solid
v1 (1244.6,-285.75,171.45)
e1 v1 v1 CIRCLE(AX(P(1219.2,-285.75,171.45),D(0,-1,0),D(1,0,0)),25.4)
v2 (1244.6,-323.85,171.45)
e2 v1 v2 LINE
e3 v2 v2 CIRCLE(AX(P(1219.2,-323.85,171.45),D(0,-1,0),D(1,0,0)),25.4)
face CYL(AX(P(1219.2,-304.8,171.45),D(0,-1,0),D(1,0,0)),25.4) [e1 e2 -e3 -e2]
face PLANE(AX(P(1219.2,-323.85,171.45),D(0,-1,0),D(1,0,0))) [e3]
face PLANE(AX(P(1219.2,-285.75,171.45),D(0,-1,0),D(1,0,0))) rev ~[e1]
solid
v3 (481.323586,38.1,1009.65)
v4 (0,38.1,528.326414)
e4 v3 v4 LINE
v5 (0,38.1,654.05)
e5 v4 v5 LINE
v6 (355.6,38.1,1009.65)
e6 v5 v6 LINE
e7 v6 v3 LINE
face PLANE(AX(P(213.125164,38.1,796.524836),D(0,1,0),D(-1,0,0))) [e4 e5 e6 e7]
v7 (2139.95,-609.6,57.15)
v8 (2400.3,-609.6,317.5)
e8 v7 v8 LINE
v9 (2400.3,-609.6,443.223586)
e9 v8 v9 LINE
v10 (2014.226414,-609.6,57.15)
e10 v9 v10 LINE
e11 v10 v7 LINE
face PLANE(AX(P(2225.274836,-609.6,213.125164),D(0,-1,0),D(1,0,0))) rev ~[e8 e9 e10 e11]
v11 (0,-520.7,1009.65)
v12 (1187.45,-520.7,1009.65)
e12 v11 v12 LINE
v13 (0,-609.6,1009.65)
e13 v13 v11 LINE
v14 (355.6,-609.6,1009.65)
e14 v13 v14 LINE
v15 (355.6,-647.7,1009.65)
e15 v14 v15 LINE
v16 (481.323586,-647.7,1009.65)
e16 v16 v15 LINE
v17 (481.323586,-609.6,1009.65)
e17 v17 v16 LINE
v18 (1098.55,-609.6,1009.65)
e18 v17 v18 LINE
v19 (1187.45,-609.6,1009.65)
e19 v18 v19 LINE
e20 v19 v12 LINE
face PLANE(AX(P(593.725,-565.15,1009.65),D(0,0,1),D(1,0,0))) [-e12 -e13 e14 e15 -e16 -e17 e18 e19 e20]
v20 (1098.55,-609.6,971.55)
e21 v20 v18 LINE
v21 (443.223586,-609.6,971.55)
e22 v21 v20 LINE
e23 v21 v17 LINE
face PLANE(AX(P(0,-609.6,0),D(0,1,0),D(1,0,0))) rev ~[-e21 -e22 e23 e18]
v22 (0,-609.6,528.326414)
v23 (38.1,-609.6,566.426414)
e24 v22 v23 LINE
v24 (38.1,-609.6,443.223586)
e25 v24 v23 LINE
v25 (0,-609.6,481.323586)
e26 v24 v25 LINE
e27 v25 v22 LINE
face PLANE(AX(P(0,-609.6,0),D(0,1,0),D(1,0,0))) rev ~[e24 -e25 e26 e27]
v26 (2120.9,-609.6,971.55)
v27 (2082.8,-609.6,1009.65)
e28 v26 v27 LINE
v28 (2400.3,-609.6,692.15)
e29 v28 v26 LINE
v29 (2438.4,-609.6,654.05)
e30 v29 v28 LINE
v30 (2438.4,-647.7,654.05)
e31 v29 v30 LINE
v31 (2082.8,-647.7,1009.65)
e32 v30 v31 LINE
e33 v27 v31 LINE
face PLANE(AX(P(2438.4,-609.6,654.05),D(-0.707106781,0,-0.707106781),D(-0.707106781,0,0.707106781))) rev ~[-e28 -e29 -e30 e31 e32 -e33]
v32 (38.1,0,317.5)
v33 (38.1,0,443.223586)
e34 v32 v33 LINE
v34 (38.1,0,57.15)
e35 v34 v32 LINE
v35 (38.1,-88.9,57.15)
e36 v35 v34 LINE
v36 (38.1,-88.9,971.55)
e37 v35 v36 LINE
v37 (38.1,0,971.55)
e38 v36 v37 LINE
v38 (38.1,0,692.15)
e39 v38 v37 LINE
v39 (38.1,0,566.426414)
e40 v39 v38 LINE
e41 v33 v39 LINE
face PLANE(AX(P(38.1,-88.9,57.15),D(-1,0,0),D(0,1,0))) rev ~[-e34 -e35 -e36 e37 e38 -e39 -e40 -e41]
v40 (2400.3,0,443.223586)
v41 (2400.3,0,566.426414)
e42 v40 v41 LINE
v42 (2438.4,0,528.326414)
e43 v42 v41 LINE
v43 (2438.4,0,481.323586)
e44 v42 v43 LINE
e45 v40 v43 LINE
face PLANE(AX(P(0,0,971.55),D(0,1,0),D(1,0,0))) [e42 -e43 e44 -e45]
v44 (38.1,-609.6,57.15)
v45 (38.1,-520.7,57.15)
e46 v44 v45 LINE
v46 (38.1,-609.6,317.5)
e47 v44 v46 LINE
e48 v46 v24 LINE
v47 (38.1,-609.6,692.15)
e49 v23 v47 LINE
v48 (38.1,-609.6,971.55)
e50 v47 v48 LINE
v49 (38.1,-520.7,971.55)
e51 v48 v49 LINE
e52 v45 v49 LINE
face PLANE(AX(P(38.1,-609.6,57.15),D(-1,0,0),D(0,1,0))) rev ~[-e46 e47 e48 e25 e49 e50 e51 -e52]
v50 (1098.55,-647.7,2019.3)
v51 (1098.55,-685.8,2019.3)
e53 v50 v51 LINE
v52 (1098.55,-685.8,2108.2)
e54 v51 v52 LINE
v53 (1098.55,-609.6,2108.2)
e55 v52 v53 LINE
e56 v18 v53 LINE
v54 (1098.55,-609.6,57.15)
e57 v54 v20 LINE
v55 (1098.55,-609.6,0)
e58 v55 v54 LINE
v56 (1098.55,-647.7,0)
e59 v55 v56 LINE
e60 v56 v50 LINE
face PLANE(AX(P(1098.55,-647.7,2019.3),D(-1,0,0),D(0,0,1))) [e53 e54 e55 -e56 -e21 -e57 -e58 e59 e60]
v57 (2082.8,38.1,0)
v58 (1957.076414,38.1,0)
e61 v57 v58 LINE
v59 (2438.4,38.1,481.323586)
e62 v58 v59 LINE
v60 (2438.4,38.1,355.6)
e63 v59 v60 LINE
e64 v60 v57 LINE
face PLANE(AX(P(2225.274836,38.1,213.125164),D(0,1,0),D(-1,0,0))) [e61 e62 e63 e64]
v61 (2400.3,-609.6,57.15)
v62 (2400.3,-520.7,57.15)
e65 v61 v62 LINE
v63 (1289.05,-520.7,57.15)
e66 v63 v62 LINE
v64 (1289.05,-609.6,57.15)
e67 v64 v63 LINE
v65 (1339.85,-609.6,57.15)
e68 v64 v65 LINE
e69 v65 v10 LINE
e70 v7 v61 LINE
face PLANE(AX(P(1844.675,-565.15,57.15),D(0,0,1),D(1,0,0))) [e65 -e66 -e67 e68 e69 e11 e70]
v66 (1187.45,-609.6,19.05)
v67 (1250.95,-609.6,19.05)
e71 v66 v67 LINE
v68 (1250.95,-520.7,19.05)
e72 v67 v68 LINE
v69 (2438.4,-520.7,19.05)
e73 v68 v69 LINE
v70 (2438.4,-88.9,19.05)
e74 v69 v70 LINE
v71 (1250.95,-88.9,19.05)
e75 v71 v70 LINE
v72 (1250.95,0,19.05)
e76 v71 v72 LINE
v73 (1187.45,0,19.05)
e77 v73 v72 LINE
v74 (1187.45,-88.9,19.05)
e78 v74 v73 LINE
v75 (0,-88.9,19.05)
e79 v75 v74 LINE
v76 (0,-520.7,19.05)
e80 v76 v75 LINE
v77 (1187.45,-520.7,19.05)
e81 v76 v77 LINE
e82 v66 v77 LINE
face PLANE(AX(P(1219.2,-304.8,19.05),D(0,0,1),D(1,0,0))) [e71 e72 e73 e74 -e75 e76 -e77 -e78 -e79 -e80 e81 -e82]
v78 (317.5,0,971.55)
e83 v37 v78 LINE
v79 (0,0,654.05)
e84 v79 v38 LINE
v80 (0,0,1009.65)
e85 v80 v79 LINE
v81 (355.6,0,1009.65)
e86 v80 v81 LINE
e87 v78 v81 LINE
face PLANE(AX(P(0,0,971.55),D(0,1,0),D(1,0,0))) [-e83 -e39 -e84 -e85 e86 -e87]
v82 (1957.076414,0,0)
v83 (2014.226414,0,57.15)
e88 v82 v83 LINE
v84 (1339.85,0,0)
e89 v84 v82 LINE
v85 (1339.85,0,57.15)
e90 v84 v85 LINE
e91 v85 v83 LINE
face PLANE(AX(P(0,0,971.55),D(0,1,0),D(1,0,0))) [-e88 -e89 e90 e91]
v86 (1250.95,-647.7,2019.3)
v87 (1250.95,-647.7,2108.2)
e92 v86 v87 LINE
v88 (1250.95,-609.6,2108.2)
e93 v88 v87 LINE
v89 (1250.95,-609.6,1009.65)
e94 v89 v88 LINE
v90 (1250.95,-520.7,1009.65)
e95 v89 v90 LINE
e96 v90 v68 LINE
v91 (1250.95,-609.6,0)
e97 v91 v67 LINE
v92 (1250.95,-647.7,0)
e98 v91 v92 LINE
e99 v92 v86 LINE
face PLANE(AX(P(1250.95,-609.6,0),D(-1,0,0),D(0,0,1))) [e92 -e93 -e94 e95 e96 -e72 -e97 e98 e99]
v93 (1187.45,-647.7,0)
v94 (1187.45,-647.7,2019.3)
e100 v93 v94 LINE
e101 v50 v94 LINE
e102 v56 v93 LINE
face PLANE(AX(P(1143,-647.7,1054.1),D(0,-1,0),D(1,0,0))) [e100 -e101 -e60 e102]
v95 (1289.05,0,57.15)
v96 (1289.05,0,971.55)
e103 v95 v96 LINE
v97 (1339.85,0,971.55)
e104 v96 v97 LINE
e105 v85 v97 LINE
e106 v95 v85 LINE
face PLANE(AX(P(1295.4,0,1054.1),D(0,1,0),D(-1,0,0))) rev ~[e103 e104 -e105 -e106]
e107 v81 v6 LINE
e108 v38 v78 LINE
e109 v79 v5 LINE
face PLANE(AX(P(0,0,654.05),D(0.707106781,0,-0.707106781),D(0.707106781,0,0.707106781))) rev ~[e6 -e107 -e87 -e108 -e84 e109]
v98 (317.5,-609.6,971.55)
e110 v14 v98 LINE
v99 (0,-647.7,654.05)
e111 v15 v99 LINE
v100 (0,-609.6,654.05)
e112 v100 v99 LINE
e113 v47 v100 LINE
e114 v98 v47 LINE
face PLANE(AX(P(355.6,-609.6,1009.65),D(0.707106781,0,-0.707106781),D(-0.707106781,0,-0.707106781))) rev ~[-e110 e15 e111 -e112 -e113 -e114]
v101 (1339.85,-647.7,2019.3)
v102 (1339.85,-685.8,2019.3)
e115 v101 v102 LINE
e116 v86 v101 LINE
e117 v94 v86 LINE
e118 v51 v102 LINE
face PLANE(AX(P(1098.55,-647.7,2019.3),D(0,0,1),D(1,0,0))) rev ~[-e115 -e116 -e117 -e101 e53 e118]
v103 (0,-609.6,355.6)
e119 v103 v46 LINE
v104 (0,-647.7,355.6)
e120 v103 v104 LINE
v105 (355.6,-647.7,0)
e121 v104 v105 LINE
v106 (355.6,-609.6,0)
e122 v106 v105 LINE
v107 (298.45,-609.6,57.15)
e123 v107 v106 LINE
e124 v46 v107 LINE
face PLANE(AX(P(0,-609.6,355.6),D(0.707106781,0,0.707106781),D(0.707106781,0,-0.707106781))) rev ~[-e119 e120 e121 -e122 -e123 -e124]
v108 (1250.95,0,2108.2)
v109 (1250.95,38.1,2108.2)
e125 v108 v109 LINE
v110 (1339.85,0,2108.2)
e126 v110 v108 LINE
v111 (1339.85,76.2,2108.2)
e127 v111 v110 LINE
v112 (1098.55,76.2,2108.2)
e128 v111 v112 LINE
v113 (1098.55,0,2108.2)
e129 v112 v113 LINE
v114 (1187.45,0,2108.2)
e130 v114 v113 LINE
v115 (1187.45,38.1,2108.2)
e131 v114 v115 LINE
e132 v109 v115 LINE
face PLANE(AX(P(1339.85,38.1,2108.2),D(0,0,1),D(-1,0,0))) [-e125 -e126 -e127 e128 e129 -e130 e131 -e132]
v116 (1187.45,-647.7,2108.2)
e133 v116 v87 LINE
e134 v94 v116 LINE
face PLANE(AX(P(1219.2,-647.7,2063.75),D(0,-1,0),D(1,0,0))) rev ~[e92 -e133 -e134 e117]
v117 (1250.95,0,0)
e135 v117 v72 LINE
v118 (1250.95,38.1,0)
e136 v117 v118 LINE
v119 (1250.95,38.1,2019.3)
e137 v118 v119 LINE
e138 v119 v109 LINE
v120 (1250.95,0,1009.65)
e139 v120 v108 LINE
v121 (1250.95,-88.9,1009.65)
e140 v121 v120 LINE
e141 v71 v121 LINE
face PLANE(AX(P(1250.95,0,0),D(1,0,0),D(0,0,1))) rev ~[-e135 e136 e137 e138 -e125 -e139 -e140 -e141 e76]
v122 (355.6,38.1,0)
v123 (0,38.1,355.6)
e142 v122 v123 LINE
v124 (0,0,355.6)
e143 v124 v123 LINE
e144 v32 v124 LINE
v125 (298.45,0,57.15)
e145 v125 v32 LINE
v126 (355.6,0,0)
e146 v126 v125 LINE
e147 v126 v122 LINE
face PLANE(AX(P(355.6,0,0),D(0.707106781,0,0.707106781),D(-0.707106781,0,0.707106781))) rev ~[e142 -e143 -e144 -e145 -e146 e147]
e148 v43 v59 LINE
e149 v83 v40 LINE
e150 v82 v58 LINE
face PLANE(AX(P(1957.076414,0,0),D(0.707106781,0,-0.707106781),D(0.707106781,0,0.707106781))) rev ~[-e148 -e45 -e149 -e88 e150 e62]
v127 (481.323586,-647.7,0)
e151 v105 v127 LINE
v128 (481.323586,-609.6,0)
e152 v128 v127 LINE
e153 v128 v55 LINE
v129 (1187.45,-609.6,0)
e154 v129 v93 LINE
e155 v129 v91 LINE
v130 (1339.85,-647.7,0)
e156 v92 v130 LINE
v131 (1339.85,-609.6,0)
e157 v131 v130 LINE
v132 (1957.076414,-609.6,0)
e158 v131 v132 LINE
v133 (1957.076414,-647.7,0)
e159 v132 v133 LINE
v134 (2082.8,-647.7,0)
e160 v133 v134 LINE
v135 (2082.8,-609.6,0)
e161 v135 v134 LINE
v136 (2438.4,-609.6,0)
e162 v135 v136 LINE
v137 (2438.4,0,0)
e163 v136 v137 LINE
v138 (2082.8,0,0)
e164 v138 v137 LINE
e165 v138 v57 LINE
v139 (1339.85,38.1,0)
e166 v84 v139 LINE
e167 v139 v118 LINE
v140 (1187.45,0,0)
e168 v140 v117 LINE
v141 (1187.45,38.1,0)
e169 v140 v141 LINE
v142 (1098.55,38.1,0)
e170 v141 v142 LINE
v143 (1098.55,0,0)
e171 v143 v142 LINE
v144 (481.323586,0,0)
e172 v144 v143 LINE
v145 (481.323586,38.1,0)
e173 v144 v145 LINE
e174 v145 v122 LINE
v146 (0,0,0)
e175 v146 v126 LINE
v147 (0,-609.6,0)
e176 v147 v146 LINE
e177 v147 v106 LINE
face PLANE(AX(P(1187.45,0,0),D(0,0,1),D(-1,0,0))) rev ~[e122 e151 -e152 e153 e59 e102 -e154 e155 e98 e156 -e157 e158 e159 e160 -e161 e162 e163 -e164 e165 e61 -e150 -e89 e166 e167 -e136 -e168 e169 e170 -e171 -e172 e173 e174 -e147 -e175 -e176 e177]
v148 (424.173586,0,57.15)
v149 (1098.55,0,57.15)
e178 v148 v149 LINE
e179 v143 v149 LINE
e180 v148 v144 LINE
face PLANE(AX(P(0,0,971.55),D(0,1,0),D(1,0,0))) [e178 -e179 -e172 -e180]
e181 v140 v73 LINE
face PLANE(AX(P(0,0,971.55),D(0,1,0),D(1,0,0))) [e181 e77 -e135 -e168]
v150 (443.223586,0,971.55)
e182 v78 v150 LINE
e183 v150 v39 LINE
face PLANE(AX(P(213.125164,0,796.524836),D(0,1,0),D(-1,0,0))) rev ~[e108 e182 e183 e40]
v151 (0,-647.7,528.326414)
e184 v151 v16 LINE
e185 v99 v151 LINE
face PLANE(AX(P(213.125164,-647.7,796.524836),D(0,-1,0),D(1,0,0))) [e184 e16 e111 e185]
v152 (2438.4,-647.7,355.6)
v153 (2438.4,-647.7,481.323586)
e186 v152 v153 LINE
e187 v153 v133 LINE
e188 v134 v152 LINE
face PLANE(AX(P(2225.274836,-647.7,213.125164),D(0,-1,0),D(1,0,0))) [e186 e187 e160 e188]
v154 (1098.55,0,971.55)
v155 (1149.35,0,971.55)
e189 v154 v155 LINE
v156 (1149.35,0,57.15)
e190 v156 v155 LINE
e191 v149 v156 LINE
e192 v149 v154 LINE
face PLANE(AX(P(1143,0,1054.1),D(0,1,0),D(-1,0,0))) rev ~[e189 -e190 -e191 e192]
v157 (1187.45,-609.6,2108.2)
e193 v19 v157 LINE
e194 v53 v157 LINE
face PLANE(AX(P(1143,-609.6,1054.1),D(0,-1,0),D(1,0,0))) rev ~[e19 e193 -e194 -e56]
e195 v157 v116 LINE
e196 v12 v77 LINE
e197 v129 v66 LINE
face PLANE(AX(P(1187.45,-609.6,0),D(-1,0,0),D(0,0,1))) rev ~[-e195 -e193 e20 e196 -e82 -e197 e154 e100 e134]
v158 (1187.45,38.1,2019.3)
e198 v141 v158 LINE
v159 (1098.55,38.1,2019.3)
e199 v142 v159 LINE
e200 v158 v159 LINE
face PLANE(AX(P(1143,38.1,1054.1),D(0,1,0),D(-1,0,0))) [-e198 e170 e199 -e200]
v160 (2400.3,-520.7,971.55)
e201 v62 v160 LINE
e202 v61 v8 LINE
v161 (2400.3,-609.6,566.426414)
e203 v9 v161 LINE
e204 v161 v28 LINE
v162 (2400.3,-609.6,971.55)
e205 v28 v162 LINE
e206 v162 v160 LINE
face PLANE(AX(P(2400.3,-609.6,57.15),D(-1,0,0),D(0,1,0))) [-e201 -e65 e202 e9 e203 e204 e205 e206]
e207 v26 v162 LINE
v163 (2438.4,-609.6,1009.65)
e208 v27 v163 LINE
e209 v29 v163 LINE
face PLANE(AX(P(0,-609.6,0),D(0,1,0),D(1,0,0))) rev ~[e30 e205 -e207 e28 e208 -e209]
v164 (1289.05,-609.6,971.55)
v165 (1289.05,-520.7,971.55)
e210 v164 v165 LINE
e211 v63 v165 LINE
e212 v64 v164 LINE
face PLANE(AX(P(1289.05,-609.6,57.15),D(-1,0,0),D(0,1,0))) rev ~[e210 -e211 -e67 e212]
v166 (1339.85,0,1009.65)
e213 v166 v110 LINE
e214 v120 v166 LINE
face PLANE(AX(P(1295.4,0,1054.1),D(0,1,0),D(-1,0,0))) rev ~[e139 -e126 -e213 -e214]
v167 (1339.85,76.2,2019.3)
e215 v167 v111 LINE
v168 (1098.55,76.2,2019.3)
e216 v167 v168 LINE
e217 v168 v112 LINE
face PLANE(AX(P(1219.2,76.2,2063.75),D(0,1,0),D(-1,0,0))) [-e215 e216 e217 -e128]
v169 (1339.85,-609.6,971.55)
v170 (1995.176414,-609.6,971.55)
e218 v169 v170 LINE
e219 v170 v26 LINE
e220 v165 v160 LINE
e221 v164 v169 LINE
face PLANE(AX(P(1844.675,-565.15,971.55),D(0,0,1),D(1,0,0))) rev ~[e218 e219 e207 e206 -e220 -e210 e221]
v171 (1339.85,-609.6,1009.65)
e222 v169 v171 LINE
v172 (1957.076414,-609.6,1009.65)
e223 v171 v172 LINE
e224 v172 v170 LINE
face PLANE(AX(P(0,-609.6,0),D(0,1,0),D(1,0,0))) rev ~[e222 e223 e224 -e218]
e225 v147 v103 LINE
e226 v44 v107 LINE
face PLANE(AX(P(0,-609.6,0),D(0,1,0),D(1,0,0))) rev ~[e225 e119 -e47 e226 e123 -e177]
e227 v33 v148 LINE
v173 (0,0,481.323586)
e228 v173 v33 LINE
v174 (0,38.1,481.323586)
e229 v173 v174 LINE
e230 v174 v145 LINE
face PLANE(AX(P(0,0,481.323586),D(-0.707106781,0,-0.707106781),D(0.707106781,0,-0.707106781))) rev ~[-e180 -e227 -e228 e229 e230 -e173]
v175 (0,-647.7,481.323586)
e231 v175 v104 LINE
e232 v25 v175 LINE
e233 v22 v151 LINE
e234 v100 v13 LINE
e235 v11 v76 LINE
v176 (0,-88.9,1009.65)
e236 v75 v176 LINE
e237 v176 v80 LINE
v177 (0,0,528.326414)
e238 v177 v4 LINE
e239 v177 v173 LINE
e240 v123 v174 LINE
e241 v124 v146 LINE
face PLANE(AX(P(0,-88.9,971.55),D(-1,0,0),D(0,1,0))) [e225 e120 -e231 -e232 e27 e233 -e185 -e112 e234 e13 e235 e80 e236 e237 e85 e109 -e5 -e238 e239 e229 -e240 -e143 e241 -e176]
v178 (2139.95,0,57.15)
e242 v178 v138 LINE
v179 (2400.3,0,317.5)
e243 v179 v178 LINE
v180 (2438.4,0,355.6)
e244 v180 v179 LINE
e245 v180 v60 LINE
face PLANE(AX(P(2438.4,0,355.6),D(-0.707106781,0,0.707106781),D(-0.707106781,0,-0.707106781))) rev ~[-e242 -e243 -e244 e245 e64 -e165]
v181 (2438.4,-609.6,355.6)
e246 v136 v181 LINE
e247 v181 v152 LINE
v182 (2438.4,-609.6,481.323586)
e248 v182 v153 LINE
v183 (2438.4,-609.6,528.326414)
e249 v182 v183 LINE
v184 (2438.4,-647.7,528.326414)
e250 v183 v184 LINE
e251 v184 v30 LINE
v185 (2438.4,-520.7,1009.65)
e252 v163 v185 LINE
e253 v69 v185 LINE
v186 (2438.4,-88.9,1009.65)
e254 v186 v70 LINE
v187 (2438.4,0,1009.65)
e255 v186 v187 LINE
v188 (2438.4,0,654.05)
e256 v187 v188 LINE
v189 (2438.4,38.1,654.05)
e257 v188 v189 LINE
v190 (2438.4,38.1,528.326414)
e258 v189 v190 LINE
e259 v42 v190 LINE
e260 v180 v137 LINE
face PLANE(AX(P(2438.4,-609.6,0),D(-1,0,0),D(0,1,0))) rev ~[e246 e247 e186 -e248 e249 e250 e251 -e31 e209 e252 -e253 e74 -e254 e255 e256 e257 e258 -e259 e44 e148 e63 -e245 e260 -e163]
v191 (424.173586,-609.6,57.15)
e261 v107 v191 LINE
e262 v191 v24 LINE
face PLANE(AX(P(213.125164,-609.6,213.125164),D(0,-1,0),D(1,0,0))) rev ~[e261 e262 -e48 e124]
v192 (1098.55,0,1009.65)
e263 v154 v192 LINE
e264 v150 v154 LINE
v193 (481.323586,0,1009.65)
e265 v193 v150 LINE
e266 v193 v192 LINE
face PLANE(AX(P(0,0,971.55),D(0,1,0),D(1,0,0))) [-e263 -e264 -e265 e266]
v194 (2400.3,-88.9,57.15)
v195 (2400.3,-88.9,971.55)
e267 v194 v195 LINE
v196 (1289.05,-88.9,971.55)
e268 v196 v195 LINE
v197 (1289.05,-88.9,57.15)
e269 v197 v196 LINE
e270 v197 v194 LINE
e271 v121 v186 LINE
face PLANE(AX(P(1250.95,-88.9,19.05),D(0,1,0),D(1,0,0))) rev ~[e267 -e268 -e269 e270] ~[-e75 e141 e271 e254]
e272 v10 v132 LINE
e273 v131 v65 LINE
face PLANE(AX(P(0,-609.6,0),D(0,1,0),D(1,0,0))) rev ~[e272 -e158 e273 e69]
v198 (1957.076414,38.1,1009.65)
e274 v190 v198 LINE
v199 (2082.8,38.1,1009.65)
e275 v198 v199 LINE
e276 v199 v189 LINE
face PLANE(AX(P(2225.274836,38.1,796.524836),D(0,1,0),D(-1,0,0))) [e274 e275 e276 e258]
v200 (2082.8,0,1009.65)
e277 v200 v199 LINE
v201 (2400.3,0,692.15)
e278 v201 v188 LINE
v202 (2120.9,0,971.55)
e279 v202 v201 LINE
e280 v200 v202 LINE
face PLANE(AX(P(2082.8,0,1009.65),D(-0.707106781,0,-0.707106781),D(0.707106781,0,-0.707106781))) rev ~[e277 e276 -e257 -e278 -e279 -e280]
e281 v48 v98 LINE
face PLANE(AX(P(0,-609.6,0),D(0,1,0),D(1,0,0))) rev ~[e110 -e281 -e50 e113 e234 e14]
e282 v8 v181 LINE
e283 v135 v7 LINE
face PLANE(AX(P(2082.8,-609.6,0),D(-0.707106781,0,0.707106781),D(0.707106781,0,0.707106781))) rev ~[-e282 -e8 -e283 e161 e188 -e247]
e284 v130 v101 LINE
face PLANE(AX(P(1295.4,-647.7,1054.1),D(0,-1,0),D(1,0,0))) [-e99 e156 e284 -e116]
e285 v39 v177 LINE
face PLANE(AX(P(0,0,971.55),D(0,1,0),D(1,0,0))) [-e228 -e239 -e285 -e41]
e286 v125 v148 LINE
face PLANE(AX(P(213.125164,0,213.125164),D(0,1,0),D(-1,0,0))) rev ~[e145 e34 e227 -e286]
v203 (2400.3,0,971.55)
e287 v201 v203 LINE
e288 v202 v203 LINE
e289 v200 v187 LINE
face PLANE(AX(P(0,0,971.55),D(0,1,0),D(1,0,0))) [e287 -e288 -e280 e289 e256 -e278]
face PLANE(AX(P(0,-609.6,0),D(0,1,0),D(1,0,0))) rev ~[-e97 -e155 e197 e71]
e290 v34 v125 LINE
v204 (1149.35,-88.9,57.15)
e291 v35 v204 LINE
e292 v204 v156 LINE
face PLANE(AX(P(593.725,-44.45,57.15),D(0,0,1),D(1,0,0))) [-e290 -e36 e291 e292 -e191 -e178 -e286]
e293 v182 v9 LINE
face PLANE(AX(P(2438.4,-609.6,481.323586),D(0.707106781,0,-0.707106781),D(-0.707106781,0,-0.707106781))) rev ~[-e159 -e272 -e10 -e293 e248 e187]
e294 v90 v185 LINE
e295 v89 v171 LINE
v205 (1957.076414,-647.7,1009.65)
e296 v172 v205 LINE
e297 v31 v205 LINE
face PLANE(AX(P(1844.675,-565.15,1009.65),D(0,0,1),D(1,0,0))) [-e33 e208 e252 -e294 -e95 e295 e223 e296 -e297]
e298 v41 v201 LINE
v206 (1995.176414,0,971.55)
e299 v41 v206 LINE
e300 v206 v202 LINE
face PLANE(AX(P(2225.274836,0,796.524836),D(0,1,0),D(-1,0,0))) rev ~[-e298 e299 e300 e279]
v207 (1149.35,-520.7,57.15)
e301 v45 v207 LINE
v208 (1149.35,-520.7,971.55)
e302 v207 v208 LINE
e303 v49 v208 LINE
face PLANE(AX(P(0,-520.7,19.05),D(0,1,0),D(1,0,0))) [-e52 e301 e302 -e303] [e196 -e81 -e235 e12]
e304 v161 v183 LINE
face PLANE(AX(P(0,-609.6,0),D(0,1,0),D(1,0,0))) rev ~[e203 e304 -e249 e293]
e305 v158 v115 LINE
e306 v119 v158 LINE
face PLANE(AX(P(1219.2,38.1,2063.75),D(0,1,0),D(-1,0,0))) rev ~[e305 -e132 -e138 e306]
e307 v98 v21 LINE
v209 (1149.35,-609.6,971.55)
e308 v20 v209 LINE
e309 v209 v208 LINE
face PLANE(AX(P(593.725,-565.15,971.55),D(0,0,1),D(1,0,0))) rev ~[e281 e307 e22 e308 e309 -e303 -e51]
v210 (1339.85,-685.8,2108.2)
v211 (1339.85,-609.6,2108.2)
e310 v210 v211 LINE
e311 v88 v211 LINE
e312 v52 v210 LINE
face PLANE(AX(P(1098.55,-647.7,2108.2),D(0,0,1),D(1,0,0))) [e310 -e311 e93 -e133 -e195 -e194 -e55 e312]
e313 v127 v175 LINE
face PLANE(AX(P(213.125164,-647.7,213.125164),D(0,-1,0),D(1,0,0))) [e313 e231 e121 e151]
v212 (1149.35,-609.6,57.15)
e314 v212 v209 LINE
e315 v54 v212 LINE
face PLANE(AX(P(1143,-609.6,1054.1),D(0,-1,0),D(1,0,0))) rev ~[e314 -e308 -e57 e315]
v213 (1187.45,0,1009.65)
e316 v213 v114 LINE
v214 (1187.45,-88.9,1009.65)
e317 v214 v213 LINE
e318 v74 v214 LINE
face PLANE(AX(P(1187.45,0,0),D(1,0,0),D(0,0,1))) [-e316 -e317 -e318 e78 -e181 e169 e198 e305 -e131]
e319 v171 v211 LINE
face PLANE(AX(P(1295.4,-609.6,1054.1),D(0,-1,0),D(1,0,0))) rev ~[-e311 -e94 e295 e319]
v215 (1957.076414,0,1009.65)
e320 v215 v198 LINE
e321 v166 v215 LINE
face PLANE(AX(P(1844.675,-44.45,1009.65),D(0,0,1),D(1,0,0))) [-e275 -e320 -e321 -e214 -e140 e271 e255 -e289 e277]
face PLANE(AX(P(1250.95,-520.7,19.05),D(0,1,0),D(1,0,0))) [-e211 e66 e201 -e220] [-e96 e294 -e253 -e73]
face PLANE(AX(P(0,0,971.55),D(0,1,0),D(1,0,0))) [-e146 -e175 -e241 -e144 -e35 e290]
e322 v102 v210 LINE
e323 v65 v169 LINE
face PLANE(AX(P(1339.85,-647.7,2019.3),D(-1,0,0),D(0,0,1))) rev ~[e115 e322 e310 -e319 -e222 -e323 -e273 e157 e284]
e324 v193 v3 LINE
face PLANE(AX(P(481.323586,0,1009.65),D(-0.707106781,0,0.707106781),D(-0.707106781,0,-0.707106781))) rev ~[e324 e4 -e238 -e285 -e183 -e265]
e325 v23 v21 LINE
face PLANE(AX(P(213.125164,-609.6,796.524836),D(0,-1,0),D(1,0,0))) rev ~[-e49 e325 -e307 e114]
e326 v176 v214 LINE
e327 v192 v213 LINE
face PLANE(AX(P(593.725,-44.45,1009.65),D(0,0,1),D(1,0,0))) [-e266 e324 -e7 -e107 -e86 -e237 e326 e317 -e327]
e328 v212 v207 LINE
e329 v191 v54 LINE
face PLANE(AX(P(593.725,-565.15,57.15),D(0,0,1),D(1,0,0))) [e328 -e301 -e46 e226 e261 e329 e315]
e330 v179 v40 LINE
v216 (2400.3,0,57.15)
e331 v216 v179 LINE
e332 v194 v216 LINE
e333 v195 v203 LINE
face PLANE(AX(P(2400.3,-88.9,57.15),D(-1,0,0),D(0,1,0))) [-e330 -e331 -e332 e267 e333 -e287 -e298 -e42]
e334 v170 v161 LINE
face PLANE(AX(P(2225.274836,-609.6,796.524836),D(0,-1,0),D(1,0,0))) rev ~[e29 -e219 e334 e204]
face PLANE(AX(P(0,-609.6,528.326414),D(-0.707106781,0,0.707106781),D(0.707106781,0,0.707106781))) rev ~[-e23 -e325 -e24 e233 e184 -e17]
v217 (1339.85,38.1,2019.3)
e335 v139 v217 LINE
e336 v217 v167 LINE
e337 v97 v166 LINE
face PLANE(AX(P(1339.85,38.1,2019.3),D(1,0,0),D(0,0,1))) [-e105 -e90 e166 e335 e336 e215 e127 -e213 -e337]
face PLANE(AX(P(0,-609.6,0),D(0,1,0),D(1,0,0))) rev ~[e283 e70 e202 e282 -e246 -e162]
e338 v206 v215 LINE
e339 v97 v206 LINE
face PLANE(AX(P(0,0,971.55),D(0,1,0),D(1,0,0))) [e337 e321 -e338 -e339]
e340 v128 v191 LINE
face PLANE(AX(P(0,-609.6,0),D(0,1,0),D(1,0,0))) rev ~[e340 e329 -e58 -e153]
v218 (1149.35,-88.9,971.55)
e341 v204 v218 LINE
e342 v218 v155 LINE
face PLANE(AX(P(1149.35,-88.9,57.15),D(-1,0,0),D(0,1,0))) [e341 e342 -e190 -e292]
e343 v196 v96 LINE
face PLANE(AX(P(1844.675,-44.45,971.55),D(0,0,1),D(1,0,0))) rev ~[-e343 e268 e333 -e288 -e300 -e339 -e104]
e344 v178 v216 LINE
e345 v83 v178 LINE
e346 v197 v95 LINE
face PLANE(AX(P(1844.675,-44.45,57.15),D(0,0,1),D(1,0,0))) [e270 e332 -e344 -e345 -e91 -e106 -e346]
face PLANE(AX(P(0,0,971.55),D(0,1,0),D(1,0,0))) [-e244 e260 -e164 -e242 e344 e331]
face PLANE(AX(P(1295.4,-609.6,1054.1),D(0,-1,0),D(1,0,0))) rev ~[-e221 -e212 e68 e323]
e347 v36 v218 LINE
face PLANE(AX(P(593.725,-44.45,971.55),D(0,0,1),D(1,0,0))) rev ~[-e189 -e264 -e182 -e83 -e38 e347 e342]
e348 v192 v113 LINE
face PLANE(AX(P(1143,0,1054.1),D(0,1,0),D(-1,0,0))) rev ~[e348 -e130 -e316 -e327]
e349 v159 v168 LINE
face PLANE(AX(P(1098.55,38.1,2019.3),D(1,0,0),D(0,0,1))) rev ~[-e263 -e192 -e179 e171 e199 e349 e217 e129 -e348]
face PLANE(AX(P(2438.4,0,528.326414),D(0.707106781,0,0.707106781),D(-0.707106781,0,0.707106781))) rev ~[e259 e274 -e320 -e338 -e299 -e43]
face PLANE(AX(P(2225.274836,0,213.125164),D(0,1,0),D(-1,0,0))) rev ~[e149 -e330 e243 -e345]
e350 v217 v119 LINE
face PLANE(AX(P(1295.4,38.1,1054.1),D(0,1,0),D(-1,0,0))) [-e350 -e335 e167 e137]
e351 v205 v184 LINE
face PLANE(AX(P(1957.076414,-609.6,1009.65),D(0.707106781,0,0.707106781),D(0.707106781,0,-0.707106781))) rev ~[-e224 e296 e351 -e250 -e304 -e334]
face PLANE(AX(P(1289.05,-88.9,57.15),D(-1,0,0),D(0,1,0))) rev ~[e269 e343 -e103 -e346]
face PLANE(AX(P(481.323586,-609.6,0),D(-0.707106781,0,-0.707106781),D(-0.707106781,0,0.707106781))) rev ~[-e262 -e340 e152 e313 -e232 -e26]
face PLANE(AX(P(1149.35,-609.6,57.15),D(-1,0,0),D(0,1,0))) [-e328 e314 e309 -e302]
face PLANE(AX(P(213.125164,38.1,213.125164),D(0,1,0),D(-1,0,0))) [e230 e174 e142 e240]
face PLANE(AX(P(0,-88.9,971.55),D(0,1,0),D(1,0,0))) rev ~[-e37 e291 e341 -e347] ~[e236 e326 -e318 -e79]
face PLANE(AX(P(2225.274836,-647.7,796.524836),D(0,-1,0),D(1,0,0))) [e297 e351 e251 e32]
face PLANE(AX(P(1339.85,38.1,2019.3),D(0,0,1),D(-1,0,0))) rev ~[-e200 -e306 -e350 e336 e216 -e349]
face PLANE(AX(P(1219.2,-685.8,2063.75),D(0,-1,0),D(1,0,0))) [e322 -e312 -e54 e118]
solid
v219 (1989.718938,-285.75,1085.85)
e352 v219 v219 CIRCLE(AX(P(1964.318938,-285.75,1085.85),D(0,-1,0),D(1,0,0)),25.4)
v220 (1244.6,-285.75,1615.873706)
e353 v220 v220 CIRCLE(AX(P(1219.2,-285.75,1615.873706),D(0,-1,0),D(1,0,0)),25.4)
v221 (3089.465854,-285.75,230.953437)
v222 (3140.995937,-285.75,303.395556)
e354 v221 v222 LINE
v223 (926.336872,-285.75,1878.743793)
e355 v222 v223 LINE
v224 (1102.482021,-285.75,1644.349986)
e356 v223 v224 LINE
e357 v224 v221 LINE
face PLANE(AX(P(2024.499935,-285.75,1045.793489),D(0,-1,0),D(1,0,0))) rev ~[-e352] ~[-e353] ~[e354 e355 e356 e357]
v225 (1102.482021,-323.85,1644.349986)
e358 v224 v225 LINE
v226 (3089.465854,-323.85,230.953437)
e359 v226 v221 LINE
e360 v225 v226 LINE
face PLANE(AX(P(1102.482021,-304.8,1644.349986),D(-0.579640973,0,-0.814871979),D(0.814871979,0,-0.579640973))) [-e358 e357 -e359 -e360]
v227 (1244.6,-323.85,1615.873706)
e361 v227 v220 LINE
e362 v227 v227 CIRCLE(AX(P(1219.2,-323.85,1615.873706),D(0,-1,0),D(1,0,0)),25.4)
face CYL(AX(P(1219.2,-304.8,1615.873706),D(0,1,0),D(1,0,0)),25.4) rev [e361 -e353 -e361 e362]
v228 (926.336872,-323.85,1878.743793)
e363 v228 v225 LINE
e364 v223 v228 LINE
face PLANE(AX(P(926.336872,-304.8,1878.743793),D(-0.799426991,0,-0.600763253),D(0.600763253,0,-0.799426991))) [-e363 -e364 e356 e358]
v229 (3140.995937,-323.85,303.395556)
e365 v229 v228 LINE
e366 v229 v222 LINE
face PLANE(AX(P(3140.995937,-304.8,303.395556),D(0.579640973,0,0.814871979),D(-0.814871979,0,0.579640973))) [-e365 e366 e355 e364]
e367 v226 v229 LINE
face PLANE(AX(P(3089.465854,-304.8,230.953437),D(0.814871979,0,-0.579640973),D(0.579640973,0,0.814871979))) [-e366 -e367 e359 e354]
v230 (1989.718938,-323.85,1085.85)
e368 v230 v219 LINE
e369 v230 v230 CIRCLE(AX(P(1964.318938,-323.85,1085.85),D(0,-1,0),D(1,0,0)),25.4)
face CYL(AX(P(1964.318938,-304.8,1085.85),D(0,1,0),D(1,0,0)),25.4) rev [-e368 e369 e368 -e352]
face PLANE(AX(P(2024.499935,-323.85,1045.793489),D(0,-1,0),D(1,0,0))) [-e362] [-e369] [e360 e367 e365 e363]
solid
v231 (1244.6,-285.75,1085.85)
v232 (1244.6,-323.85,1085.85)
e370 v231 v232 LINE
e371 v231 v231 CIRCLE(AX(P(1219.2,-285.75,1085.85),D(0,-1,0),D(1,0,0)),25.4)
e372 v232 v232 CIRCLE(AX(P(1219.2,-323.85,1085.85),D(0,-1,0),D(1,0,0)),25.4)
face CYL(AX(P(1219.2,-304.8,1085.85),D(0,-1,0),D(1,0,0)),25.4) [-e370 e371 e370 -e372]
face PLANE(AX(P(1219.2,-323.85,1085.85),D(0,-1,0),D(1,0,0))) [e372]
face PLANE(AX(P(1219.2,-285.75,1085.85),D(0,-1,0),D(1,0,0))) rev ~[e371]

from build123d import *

# Parameters (mm, degrees)
F0_W      = 2438.4
F0_H      = 609.6
F1_DEPTH  = 19.05
F2_W      = 1187.45
F2_H      = 88.9
F3_DEPTH  = 38.1
F4_W      = 38.1
F4_H      = 88.9
F5_DEPTH  = 914.4
F6_W      = 1187.45
F6_H      = 88.9
F7_DEPTH  = 38.1
F8_W      = 88.9
F8_H      = 2108.2
F9_DEPTH  = 38.1
F10_W     = 88.9
F10_H     = 2108.2
F11_DEPTH = 38.1
F12_W     = 241.3
F12_H     = 88.9
F13_DEPTH = 38.1
F14_W     = 241.3
F14_H     = 88.9
F15_DEPTH = 38.1
F17_R     = 25.4
F18_DEPTH = 19.05


with BuildPart() as f1:
    # F0 (on Top) → F1 (new body)
    with BuildSketch(Plane.XY):
        with Locations((1219.2, -304.8)):
            Rectangle(F0_W, F0_H)
    extrude(amount=F1_DEPTH)

    # F2 (on face) → F3 (join)
    with BuildSketch(Plane.XY.offset(19.05)):
        with Locations((593.725, -44.45)):
            Rectangle(F2_W, F2_H)
        with Locations((1844.675, -44.45)):
            Rectangle(F2_W, F2_H)
        with Locations((593.725, -565.15)):
            Rectangle(F2_W, F2_H)
        with Locations((1844.675, -565.15)):
            Rectangle(F2_W, F2_H)
    extrude(amount=F3_DEPTH)

    # F4 (on face) → F5 (join)
    with BuildSketch(Plane.XY.offset(57.15)):
        with Locations((19.05, -44.45)):
            Rectangle(F4_W, F4_H)
        with Locations((1168.4, -44.45)):
            Rectangle(F4_W, F4_H)
        with Locations((1168.4, -565.15)):
            Rectangle(F4_W, F4_H)
        with Locations((19.05, -565.15)):
            Rectangle(F4_W, F4_H)
        with Locations((1270, -44.45)):
            Rectangle(F4_W, F4_H)
        with Locations((1270, -565.15)):
            Rectangle(F4_W, F4_H)
        with Locations((2419.35, -565.15)):
            Rectangle(F4_W, F4_H)
        with Locations((2419.35, -44.45)):
            Rectangle(F4_W, F4_H)
    extrude(amount=F5_DEPTH)

    # F6 (on face) → F7 (join)
    with BuildSketch(Plane.XY.offset(971.55)):
        with Locations((593.725, -44.45)):
            Rectangle(F6_W, F6_H)
        with Locations((1844.675, -44.45)):
            Rectangle(F6_W, F6_H)
        with Locations((1844.675, -565.15)):
            Rectangle(F6_W, F6_H)
        with Locations((593.725, -565.15)):
            Rectangle(F6_W, F6_H)
    extrude(amount=F7_DEPTH)

    # F8 (on face) → F9 (join)
    with BuildSketch(Plane.XZ.offset(609.6)):
        with Locations((1295.4, 1054.1)):
            Rectangle(F8_W, F8_H)
        Polygon((2438.4, 654.05), (2082.8, 1009.65), (1957.076414305, 1009.65), (2438.4, 528.326414305), align=None)
        Polygon((2438.4, 355.6), (2438.4, 481.323585695), (1957.076414305, 0), (2082.8, 0), align=None)
        Polygon((0, 355.6), (355.6, 0), (481.323585695, 0), (0, 481.323585695), align=None)
        Polygon((481.323585695, 1009.65), (355.6, 1009.65), (0, 654.05), (0, 528.326414305), align=None)
        with Locations((1143, 1054.1)):
            Rectangle(F8_W, F8_H)
    extrude(amount=F9_DEPTH)

    # F10 (on face) → F11 (join)
    with BuildSketch(Plane(origin=(0, 0, 0), x_dir=(-1, 0, 0), z_dir=(0, 1, 0))):
        with Locations((-1143, 1054.1)):
            Rectangle(F10_W, F10_H)
        Polygon((0, 654.05), (-355.6, 1009.65), (-481.323585695, 1009.65), (0, 528.326414305), align=None)
        Polygon((0, 355.6), (0, 481.323585695), (-481.323585695, 0), (-355.6, 0), align=None)
        Polygon((-2438.4, 355.6), (-2082.8, 0), (-1957.076414305, 0), (-2438.4, 481.323585695), align=None)
        Polygon((-1957.076414305, 1009.65), (-2082.8, 1009.65), (-2438.4, 654.05), (-2438.4, 528.326414305), align=None)
        with Locations((-1295.4, 1054.1)):
            Rectangle(F10_W, F10_H)
    extrude(amount=F11_DEPTH)

    # F12 (on face) → F13 (join)
    with BuildSketch(Plane(origin=(0, 38.1, 0), x_dir=(-1, 0, 0), z_dir=(0, 1, 0))):
        with Locations((-1219.2, 2063.75)):
            Rectangle(F12_W, F12_H)
    extrude(amount=F13_DEPTH)

    # F14 (on face) → F15 (join)
    with BuildSketch(Plane.XZ.offset(647.7)):
        with Locations((1219.2, 2063.75)):
            Rectangle(F14_W, F14_H)
    extrude(amount=F15_DEPTH)


with BuildPart() as f18:
    # F17 (on offset) → F18 (new body, symmetric)
    with BuildSketch(Plane.XZ.offset(304.8)):
        Polygon((3140.9959368845, 303.3955563917), (926.3368722694, 1878.7437932961), (1102.4820206955, 1644.3499864541), (3089.465854369, 230.9534374557), align=None)
        with Locations((1964.3189376275, 1085.85)):
            Circle(F17_R, mode=Mode.SUBTRACT)
        with Locations((1219.2, 1615.8737058744)):
            Circle(F17_R, mode=Mode.SUBTRACT)
    extrude(amount=F18_DEPTH, both=True)


with BuildPart() as f18b:
    # F17 (on offset) → F18, piece 2 (new body, symmetric)
    with BuildSketch(Plane.XZ.offset(304.8)):
        with Locations((1219.2, 1085.85)):
            Circle(F17_R)
    extrude(amount=F18_DEPTH, both=True)


with BuildPart() as f18c:
    # F17 (on offset) → F18, piece 3 (new body, symmetric)
    with BuildSketch(Plane.XZ.offset(304.8)):
        with Locations((1219.2, 171.45)):
            Circle(F17_R)
    extrude(amount=F18_DEPTH, both=True)


solid = Compound([f1.part, f18.part, f18b.part, f18c.part])
